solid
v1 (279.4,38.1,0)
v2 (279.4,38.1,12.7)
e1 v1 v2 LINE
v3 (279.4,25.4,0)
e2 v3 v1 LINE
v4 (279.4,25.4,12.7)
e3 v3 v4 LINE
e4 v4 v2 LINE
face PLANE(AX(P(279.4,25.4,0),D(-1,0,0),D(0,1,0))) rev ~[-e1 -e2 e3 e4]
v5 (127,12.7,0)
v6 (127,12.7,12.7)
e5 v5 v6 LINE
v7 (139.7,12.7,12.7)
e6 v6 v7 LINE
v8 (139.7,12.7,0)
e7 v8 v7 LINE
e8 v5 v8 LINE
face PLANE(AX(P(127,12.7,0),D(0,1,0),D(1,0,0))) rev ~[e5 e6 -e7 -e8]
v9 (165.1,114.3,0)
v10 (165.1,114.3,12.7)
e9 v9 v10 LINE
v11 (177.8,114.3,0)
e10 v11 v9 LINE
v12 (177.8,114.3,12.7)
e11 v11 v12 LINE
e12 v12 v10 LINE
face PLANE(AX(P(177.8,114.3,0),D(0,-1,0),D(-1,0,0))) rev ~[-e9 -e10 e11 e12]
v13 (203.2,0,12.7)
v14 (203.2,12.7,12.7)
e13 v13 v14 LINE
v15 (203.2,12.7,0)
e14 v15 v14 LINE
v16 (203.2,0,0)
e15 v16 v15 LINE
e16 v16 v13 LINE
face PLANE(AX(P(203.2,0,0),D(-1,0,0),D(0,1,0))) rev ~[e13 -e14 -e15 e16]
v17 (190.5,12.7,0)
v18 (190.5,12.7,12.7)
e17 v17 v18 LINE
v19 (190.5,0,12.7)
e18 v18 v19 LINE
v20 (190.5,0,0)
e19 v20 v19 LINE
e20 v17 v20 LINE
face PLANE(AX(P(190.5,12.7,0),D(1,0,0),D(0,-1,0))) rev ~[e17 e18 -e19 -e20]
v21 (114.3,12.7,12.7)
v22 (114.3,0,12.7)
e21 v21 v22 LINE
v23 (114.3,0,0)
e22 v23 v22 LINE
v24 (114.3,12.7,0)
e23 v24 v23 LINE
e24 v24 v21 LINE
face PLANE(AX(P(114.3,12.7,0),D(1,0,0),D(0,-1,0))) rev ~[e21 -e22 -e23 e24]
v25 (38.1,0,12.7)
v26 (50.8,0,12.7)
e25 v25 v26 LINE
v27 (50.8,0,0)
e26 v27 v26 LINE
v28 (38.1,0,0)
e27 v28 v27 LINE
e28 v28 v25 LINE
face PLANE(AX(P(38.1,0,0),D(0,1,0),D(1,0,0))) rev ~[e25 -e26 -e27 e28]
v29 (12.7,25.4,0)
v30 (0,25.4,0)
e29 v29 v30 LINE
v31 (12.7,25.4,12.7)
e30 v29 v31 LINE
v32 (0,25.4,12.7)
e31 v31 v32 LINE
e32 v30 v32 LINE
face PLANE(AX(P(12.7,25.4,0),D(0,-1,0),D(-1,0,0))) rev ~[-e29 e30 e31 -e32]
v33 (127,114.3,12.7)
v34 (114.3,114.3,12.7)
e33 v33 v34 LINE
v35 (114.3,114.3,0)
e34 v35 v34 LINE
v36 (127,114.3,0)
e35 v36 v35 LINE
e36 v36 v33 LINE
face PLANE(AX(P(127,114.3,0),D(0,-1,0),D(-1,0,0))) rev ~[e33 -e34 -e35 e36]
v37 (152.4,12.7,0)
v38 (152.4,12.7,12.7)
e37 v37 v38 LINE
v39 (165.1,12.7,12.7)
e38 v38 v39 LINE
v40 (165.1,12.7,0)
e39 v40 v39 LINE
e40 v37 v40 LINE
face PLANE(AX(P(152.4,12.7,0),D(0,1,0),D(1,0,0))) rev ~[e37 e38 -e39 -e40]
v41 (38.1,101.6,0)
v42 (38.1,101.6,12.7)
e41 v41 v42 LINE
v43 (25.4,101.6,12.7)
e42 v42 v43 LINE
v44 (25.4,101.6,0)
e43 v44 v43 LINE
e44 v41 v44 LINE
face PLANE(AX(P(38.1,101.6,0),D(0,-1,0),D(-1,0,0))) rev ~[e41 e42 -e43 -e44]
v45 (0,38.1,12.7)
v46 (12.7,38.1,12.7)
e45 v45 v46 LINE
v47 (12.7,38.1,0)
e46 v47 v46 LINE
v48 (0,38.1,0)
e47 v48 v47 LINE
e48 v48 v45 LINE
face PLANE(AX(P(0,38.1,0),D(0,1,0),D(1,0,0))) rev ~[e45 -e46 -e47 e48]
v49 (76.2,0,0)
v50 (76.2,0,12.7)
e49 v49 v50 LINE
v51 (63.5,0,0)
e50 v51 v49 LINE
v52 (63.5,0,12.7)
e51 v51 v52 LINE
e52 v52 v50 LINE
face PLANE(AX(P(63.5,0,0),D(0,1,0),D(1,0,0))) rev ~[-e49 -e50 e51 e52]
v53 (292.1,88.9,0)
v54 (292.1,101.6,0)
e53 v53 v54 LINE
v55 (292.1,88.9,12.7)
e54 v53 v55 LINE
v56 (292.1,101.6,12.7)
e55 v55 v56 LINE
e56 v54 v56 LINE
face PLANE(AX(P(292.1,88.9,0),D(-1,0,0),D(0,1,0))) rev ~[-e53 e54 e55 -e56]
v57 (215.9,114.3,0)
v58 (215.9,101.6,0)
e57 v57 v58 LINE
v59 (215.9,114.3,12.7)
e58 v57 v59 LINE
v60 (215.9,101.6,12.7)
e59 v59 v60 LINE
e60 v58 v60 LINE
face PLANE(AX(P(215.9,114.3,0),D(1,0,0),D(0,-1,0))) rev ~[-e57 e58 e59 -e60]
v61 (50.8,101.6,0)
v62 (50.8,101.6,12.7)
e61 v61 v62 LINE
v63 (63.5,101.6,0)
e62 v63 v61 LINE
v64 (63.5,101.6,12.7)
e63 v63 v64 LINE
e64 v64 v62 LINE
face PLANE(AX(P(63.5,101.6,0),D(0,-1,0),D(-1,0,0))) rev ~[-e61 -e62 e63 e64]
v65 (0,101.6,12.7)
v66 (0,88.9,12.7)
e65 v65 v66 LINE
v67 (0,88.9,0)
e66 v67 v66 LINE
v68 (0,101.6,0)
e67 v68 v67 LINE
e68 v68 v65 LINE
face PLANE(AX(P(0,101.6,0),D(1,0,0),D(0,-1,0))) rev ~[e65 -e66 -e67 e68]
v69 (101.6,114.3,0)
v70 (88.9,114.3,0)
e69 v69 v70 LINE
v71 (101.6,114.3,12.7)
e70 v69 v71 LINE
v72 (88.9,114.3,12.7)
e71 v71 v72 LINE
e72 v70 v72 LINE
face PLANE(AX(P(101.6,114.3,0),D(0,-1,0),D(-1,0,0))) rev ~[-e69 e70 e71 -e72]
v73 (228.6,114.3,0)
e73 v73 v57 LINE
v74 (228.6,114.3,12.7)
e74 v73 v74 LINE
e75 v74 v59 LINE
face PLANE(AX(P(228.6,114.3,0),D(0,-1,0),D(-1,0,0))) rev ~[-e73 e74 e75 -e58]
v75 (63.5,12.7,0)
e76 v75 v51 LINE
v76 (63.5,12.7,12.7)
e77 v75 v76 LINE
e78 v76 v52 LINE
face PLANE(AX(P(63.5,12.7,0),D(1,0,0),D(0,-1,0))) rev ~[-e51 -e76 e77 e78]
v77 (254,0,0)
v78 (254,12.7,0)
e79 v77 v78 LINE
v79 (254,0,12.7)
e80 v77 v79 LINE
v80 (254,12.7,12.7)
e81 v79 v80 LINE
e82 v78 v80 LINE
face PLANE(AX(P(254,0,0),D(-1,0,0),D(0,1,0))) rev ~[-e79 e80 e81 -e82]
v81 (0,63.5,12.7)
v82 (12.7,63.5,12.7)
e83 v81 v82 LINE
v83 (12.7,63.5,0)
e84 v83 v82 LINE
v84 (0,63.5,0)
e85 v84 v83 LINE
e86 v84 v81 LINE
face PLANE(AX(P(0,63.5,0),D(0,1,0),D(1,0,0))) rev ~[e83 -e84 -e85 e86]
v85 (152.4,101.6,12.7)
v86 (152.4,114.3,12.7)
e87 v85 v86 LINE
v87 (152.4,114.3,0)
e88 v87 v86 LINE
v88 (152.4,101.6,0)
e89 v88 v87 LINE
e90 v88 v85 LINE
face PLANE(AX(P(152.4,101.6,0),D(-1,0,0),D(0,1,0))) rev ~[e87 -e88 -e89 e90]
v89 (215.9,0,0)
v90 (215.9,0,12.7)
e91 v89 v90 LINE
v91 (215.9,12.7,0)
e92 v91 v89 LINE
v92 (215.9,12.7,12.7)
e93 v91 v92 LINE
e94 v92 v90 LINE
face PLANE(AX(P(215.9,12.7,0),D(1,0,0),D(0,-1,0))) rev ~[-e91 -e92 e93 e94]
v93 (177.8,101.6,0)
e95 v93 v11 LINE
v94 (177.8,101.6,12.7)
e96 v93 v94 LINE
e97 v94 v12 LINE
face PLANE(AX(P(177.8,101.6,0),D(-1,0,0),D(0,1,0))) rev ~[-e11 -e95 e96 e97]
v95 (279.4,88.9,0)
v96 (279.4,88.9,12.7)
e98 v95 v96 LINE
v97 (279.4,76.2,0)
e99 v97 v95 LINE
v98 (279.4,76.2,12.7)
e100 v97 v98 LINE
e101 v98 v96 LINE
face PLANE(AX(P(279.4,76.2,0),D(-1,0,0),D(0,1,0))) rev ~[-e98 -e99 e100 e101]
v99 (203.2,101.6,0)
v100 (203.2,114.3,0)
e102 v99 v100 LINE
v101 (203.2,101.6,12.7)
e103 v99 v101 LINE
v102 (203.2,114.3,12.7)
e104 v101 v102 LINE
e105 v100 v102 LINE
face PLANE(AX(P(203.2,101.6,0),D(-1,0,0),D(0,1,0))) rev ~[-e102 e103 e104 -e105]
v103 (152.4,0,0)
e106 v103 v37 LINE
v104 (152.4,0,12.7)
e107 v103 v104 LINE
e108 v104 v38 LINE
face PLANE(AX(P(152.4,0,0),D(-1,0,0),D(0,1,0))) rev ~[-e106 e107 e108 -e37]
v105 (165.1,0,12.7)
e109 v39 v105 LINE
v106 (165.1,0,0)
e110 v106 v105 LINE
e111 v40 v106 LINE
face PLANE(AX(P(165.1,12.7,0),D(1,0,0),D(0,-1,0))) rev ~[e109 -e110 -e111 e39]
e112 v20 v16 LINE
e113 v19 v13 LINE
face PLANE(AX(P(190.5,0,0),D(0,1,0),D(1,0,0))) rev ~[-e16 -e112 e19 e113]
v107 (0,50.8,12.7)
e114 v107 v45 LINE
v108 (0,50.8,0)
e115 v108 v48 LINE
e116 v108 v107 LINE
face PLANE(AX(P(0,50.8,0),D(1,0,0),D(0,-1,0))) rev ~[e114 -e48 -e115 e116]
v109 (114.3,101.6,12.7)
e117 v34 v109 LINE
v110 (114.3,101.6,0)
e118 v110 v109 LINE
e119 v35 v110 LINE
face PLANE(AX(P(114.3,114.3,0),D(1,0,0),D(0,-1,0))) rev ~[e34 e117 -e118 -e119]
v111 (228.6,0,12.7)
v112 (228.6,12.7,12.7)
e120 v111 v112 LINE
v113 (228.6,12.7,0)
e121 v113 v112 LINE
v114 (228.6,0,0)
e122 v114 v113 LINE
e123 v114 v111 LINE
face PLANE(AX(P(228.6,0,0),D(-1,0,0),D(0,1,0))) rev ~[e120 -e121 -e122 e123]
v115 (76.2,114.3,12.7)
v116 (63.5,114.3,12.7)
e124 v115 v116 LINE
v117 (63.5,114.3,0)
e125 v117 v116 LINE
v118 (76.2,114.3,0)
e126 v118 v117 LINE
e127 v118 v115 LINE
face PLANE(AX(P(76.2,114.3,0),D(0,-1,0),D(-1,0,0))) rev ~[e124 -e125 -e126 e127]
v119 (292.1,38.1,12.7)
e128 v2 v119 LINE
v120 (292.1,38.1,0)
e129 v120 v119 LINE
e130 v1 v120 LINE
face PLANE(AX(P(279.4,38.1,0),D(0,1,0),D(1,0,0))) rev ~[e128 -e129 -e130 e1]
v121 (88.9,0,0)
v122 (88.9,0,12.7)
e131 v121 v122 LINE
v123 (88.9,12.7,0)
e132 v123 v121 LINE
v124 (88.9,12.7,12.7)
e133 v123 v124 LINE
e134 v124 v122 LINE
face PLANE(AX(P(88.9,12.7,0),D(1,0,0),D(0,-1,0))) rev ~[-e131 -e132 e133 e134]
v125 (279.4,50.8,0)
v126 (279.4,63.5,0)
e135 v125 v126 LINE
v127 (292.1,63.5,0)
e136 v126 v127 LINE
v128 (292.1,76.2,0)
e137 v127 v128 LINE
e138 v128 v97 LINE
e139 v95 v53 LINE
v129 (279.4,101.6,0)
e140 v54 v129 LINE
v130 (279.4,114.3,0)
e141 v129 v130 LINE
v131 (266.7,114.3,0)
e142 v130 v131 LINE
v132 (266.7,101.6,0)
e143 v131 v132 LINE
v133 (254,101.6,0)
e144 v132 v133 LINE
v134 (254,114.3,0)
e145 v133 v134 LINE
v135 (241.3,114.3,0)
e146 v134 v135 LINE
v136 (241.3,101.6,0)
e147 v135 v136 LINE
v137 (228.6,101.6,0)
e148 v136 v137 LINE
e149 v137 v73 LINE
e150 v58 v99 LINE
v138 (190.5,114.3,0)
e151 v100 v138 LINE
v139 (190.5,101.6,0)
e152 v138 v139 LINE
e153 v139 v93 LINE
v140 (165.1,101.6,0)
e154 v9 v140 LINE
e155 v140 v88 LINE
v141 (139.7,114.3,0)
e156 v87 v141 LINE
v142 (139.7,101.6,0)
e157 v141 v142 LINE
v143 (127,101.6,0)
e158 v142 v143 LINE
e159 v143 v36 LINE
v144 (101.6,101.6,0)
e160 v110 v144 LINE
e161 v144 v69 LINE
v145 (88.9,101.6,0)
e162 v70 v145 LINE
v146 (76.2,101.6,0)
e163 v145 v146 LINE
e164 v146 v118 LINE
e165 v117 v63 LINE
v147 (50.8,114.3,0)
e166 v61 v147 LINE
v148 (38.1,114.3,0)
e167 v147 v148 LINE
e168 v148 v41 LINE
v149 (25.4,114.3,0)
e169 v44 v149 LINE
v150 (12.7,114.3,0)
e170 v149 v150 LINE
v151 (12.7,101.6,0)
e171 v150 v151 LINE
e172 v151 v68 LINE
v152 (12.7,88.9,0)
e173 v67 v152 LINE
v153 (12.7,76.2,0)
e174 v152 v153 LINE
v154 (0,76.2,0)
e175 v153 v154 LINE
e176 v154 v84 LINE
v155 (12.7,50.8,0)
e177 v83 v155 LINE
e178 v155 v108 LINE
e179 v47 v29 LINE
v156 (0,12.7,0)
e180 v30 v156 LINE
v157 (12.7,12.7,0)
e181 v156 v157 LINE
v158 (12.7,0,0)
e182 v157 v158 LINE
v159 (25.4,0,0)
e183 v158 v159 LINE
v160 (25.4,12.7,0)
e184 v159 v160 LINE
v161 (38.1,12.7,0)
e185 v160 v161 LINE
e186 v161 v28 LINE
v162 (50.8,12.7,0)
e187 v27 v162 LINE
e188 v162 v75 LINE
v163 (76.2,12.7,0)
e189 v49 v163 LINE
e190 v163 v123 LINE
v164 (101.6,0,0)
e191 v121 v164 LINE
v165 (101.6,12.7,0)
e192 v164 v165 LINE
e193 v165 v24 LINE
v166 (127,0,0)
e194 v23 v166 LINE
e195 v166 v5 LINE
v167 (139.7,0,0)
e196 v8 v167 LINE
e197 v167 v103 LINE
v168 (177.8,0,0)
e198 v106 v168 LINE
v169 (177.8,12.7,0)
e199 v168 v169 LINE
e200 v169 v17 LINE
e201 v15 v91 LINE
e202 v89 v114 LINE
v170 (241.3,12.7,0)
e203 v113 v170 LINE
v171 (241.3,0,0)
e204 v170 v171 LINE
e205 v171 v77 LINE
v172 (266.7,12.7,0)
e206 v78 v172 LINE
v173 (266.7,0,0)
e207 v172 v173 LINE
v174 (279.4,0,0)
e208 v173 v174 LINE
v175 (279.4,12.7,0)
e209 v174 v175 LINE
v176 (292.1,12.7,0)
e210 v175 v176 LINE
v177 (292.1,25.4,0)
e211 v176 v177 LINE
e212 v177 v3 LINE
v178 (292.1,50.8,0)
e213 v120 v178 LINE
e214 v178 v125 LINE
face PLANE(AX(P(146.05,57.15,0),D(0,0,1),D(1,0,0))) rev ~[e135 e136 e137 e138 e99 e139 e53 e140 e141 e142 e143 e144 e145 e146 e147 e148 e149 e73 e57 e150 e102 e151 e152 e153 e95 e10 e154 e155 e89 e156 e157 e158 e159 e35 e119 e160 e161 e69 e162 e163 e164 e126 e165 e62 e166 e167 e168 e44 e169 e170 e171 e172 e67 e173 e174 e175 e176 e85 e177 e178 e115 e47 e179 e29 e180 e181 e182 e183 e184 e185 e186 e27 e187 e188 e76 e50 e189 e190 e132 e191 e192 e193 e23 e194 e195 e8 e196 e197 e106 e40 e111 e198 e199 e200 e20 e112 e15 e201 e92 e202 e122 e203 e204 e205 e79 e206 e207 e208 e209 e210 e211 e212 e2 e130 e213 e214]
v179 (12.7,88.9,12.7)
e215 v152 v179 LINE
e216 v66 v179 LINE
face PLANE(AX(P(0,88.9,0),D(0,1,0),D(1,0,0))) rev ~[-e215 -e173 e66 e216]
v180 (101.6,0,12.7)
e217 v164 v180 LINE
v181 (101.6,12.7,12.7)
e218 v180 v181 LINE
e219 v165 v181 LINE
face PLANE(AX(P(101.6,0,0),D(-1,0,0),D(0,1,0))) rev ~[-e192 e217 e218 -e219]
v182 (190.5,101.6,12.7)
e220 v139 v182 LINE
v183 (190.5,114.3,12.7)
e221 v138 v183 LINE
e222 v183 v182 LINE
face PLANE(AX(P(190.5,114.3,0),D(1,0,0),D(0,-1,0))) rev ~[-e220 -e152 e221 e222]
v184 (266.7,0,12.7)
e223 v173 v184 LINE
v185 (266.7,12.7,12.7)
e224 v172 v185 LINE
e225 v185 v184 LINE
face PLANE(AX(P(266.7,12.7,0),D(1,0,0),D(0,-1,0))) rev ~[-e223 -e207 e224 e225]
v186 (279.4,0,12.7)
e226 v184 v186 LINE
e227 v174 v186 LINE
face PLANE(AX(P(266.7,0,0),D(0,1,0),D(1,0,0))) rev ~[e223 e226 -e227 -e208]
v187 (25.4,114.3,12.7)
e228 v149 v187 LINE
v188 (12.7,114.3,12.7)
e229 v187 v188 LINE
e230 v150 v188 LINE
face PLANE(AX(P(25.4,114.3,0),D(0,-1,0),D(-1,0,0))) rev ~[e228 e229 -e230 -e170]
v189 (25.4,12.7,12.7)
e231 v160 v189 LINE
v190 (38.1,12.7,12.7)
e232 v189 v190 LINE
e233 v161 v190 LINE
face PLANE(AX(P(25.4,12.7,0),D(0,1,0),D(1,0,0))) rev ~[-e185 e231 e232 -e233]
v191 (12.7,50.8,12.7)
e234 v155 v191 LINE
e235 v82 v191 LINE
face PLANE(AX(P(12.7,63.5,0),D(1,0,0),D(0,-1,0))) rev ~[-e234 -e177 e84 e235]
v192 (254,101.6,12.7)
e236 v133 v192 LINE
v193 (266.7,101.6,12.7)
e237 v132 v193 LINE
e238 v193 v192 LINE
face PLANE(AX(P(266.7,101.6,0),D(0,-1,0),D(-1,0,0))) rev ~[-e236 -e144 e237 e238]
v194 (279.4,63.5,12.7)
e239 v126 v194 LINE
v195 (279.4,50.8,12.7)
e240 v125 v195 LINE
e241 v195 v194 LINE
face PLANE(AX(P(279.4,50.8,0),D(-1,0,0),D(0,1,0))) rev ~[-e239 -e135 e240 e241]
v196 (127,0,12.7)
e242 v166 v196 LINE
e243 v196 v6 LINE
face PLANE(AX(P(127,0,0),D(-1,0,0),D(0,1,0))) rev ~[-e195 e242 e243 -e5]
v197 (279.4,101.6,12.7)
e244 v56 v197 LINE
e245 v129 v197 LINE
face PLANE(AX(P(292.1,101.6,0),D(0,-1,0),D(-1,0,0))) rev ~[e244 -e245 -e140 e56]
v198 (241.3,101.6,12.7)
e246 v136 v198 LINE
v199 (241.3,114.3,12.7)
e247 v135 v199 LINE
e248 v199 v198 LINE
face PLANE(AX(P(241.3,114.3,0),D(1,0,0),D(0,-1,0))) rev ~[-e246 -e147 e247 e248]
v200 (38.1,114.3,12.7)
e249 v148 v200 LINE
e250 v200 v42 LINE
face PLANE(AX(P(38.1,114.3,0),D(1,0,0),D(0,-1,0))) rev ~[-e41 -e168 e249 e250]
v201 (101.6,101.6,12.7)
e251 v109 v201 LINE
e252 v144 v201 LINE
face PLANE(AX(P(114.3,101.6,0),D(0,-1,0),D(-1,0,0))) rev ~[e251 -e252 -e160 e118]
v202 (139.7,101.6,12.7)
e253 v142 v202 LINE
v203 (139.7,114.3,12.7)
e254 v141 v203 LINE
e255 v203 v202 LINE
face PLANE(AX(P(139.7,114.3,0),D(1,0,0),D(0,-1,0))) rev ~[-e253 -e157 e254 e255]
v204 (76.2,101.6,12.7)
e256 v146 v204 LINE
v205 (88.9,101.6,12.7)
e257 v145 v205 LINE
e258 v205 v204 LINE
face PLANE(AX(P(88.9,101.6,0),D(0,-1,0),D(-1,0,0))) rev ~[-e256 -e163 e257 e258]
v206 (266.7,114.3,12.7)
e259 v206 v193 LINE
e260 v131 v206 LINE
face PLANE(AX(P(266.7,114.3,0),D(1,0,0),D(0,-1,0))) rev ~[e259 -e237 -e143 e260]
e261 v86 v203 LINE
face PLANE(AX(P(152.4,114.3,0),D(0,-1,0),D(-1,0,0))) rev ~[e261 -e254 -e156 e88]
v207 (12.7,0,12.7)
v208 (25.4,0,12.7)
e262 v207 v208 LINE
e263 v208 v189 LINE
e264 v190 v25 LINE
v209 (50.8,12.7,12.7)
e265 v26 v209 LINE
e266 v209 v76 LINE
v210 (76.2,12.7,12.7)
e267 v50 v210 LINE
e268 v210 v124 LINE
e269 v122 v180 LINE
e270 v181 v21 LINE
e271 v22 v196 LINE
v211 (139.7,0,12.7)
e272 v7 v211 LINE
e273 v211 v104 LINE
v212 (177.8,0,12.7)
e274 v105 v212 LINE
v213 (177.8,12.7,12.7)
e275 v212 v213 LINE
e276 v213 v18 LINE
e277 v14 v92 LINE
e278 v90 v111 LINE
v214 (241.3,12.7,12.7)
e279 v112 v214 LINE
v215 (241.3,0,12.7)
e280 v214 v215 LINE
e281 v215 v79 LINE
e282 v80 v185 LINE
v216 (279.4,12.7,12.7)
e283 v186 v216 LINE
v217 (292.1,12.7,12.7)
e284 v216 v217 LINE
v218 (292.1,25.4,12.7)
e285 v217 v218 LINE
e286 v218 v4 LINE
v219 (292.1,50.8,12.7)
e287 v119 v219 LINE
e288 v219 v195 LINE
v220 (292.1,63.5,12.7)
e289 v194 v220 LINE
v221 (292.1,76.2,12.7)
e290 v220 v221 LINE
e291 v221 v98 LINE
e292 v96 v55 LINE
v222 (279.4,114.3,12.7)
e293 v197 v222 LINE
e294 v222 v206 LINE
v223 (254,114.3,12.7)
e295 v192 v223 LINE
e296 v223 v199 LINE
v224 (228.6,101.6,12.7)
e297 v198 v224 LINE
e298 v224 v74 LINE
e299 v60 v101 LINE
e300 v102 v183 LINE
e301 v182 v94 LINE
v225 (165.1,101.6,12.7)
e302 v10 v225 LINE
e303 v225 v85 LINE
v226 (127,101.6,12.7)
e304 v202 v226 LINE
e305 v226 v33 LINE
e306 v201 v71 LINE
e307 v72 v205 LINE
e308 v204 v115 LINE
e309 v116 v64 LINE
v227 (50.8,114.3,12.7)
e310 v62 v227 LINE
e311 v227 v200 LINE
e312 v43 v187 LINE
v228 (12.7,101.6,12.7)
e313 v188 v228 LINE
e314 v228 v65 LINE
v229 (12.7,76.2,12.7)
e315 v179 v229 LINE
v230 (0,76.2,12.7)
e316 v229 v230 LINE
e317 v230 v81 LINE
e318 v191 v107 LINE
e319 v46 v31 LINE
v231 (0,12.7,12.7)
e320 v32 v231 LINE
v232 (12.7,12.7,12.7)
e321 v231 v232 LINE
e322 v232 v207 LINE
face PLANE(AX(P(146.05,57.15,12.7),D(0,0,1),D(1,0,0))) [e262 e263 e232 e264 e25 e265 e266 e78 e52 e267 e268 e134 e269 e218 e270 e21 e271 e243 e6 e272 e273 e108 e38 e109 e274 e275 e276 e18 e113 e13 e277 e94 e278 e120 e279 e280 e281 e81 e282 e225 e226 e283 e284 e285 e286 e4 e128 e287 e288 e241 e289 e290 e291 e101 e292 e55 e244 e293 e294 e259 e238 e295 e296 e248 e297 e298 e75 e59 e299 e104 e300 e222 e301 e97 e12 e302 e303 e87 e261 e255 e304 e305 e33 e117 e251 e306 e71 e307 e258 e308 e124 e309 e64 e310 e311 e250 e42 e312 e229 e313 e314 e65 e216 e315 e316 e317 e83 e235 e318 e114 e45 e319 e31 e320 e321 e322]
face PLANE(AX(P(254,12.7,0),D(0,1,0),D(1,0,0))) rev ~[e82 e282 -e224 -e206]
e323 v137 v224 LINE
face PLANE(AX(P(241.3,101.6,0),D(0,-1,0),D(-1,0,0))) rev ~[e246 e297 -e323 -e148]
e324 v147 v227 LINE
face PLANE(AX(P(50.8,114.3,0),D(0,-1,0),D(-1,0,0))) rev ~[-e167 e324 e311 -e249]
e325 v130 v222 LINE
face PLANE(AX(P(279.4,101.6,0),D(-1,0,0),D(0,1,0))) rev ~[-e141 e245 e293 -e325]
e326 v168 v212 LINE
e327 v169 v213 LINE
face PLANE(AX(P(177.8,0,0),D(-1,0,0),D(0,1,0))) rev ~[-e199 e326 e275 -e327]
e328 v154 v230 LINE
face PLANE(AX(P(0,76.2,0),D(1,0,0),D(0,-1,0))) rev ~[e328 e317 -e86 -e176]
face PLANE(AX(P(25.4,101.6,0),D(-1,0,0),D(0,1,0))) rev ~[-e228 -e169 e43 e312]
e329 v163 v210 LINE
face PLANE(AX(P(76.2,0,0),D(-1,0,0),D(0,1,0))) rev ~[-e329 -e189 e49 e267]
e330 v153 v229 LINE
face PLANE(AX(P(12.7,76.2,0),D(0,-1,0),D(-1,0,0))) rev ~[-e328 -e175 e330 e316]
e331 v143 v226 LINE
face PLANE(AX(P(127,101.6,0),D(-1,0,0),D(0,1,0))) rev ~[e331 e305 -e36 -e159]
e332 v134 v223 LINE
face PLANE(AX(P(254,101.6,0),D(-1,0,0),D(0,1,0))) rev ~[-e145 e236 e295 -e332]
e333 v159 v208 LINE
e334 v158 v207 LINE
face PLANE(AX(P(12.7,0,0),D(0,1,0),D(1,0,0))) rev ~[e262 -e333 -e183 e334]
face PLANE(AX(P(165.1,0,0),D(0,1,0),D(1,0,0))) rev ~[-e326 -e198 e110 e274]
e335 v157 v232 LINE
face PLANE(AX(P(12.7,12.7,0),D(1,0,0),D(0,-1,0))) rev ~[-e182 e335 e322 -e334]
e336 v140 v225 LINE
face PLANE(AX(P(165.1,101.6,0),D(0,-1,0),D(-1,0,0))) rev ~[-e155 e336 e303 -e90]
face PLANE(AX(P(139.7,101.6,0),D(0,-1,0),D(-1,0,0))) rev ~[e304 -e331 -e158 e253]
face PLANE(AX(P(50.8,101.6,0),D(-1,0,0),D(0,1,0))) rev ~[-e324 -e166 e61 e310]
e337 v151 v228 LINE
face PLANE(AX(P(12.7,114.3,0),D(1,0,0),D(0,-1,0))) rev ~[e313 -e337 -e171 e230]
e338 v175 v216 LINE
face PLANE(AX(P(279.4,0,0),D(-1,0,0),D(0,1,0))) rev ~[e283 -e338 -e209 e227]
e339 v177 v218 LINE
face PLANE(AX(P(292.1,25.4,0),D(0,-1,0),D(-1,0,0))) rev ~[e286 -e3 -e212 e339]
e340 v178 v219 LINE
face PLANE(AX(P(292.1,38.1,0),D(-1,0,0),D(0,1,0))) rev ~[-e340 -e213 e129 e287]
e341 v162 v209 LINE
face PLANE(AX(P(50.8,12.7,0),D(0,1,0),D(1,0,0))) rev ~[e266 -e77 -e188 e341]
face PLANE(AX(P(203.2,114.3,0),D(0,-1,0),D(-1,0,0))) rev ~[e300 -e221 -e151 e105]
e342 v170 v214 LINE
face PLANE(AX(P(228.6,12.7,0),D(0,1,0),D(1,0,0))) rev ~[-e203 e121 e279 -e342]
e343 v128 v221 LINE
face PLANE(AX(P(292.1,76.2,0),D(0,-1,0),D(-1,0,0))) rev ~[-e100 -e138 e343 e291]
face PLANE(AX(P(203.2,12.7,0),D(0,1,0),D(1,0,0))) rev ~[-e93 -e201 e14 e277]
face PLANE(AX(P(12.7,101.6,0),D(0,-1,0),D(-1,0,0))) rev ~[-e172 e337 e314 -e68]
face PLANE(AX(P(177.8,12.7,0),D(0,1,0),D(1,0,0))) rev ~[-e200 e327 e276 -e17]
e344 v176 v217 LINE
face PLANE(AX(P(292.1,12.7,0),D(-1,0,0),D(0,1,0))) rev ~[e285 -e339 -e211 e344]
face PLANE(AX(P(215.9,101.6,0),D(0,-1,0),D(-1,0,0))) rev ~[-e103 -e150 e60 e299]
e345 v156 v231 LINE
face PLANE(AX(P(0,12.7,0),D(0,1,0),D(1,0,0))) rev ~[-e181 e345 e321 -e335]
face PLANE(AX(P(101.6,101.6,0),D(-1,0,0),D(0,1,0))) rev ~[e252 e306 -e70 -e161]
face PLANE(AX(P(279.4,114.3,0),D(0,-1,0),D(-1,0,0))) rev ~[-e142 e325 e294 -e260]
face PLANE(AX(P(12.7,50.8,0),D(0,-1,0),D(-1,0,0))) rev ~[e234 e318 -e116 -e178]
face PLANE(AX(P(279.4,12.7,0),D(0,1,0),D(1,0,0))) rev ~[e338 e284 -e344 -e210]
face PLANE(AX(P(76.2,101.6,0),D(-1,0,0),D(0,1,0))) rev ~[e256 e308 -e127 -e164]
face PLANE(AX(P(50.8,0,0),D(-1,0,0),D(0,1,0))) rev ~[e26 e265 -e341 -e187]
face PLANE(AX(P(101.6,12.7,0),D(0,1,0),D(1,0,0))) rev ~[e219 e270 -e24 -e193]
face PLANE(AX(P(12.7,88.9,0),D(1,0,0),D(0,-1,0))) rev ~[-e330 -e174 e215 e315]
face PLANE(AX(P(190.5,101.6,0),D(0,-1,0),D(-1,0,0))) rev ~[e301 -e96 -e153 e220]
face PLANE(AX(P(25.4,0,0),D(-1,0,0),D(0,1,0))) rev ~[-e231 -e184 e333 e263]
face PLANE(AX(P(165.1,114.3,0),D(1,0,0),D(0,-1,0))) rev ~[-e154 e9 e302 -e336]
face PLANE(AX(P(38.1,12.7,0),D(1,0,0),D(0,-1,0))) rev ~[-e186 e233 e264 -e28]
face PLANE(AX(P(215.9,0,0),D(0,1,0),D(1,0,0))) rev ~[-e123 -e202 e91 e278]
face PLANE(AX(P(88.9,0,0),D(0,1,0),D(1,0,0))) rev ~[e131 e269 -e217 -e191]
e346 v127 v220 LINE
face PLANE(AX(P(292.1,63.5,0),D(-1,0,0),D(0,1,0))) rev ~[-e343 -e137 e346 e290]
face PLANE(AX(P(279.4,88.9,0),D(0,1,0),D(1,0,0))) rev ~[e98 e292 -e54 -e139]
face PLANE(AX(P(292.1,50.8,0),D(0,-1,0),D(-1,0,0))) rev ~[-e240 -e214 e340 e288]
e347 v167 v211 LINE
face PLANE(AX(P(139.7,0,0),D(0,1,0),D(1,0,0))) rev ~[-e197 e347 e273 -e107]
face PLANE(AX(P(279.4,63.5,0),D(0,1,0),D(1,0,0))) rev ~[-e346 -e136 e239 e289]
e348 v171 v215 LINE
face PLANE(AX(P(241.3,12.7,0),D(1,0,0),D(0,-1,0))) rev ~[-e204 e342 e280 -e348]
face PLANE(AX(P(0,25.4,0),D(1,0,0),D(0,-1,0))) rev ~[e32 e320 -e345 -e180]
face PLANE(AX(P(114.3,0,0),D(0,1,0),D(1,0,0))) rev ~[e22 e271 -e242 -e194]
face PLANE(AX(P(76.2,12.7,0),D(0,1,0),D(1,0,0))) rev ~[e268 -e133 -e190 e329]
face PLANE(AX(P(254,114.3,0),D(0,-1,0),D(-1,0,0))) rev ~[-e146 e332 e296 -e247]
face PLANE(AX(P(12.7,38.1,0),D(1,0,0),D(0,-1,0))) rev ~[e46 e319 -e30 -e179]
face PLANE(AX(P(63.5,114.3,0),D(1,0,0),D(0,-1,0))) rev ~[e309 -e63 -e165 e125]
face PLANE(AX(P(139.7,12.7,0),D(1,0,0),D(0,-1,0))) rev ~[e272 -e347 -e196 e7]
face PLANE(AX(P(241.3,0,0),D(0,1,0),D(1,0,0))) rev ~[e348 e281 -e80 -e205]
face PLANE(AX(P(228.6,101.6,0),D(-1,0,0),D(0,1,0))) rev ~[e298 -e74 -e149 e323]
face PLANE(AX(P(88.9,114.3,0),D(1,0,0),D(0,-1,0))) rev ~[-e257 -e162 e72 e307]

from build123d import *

# Parameters (mm, degrees)
F1_DEPTH = 12.7


with BuildPart() as f1:
    # F0 (on Top) → F1 (new body)
    with BuildSketch(Plane.XY):
        Polygon((25.4, 114.3), (12.7, 114.3), (12.7, 101.6), (0, 101.6), (0, 88.9), (12.7, 88.9), (12.7, 76.2), (0, 76.2), (0, 63.5), (12.7, 63.5), (12.7, 50.8), (0, 50.8), (0, 38.1), (12.7, 38.1), (12.7, 25.4), (0, 25.4), (0, 12.7), (12.7, 12.7), (12.7, 0), (25.4, 0), (25.4, 12.7), (38.1, 12.7), (38.1, 0), (50.8, 0), (50.8, 12.7), (63.5, 12.7), (63.5, 0), (76.2, 0), (76.2, 12.7), (88.9, 12.7), (88.9, 0), (101.6, 0), (101.6, 12.7), (114.3, 12.7), (114.3, 0), (127, 0), (127, 12.7), (139.7, 12.7), (139.7, 0), (152.4, 0), (152.4, 12.7), (165.1, 12.7), (165.1, 0), (177.8, 0), (177.8, 12.7), (190.5, 12.7), (190.5, 0), (203.2, 0), (203.2, 12.7), (215.9, 12.7), (215.9, 0), (228.6, 0), (228.6, 12.7), (241.3, 12.7), (241.3, 0), (254, 0), (254, 12.7), (266.7, 12.7), (266.7, 0), (279.4, 0), (279.4, 12.7), (292.1, 12.7), (292.1, 25.4), (279.4, 25.4), (279.4, 38.1), (292.1, 38.1), (292.1, 50.8), (279.4, 50.8), (279.4, 63.5), (292.1, 63.5), (292.1, 76.2), (279.4, 76.2), (279.4, 88.9), (292.1, 88.9), (292.1, 101.6), (279.4, 101.6), (279.4, 114.3), (266.7, 114.3), (266.7, 101.6), (254, 101.6), (254, 114.3), (241.3, 114.3), (241.3, 101.6), (228.6, 101.6), (228.6, 114.3), (215.9, 114.3), (215.9, 101.6), (203.2, 101.6), (203.2, 114.3), (190.5, 114.3), (190.5, 101.6), (177.8, 101.6), (177.8, 114.3), (165.1, 114.3), (165.1, 101.6), (152.4, 101.6), (152.4, 114.3), (139.7, 114.3), (139.7, 101.6), (127, 101.6), (127, 114.3), (114.3, 114.3), (114.3, 101.6), (101.6, 101.6), (101.6, 114.3), (88.9, 114.3), (88.9, 101.6), (76.2, 101.6), (76.2, 114.3), (63.5, 114.3), (63.5, 101.6), (50.8, 101.6), (50.8, 114.3), (38.1, 114.3), (38.1, 101.6), (25.4, 101.6), align=None)
    extrude(amount=F1_DEPTH)


solid = f1.part
